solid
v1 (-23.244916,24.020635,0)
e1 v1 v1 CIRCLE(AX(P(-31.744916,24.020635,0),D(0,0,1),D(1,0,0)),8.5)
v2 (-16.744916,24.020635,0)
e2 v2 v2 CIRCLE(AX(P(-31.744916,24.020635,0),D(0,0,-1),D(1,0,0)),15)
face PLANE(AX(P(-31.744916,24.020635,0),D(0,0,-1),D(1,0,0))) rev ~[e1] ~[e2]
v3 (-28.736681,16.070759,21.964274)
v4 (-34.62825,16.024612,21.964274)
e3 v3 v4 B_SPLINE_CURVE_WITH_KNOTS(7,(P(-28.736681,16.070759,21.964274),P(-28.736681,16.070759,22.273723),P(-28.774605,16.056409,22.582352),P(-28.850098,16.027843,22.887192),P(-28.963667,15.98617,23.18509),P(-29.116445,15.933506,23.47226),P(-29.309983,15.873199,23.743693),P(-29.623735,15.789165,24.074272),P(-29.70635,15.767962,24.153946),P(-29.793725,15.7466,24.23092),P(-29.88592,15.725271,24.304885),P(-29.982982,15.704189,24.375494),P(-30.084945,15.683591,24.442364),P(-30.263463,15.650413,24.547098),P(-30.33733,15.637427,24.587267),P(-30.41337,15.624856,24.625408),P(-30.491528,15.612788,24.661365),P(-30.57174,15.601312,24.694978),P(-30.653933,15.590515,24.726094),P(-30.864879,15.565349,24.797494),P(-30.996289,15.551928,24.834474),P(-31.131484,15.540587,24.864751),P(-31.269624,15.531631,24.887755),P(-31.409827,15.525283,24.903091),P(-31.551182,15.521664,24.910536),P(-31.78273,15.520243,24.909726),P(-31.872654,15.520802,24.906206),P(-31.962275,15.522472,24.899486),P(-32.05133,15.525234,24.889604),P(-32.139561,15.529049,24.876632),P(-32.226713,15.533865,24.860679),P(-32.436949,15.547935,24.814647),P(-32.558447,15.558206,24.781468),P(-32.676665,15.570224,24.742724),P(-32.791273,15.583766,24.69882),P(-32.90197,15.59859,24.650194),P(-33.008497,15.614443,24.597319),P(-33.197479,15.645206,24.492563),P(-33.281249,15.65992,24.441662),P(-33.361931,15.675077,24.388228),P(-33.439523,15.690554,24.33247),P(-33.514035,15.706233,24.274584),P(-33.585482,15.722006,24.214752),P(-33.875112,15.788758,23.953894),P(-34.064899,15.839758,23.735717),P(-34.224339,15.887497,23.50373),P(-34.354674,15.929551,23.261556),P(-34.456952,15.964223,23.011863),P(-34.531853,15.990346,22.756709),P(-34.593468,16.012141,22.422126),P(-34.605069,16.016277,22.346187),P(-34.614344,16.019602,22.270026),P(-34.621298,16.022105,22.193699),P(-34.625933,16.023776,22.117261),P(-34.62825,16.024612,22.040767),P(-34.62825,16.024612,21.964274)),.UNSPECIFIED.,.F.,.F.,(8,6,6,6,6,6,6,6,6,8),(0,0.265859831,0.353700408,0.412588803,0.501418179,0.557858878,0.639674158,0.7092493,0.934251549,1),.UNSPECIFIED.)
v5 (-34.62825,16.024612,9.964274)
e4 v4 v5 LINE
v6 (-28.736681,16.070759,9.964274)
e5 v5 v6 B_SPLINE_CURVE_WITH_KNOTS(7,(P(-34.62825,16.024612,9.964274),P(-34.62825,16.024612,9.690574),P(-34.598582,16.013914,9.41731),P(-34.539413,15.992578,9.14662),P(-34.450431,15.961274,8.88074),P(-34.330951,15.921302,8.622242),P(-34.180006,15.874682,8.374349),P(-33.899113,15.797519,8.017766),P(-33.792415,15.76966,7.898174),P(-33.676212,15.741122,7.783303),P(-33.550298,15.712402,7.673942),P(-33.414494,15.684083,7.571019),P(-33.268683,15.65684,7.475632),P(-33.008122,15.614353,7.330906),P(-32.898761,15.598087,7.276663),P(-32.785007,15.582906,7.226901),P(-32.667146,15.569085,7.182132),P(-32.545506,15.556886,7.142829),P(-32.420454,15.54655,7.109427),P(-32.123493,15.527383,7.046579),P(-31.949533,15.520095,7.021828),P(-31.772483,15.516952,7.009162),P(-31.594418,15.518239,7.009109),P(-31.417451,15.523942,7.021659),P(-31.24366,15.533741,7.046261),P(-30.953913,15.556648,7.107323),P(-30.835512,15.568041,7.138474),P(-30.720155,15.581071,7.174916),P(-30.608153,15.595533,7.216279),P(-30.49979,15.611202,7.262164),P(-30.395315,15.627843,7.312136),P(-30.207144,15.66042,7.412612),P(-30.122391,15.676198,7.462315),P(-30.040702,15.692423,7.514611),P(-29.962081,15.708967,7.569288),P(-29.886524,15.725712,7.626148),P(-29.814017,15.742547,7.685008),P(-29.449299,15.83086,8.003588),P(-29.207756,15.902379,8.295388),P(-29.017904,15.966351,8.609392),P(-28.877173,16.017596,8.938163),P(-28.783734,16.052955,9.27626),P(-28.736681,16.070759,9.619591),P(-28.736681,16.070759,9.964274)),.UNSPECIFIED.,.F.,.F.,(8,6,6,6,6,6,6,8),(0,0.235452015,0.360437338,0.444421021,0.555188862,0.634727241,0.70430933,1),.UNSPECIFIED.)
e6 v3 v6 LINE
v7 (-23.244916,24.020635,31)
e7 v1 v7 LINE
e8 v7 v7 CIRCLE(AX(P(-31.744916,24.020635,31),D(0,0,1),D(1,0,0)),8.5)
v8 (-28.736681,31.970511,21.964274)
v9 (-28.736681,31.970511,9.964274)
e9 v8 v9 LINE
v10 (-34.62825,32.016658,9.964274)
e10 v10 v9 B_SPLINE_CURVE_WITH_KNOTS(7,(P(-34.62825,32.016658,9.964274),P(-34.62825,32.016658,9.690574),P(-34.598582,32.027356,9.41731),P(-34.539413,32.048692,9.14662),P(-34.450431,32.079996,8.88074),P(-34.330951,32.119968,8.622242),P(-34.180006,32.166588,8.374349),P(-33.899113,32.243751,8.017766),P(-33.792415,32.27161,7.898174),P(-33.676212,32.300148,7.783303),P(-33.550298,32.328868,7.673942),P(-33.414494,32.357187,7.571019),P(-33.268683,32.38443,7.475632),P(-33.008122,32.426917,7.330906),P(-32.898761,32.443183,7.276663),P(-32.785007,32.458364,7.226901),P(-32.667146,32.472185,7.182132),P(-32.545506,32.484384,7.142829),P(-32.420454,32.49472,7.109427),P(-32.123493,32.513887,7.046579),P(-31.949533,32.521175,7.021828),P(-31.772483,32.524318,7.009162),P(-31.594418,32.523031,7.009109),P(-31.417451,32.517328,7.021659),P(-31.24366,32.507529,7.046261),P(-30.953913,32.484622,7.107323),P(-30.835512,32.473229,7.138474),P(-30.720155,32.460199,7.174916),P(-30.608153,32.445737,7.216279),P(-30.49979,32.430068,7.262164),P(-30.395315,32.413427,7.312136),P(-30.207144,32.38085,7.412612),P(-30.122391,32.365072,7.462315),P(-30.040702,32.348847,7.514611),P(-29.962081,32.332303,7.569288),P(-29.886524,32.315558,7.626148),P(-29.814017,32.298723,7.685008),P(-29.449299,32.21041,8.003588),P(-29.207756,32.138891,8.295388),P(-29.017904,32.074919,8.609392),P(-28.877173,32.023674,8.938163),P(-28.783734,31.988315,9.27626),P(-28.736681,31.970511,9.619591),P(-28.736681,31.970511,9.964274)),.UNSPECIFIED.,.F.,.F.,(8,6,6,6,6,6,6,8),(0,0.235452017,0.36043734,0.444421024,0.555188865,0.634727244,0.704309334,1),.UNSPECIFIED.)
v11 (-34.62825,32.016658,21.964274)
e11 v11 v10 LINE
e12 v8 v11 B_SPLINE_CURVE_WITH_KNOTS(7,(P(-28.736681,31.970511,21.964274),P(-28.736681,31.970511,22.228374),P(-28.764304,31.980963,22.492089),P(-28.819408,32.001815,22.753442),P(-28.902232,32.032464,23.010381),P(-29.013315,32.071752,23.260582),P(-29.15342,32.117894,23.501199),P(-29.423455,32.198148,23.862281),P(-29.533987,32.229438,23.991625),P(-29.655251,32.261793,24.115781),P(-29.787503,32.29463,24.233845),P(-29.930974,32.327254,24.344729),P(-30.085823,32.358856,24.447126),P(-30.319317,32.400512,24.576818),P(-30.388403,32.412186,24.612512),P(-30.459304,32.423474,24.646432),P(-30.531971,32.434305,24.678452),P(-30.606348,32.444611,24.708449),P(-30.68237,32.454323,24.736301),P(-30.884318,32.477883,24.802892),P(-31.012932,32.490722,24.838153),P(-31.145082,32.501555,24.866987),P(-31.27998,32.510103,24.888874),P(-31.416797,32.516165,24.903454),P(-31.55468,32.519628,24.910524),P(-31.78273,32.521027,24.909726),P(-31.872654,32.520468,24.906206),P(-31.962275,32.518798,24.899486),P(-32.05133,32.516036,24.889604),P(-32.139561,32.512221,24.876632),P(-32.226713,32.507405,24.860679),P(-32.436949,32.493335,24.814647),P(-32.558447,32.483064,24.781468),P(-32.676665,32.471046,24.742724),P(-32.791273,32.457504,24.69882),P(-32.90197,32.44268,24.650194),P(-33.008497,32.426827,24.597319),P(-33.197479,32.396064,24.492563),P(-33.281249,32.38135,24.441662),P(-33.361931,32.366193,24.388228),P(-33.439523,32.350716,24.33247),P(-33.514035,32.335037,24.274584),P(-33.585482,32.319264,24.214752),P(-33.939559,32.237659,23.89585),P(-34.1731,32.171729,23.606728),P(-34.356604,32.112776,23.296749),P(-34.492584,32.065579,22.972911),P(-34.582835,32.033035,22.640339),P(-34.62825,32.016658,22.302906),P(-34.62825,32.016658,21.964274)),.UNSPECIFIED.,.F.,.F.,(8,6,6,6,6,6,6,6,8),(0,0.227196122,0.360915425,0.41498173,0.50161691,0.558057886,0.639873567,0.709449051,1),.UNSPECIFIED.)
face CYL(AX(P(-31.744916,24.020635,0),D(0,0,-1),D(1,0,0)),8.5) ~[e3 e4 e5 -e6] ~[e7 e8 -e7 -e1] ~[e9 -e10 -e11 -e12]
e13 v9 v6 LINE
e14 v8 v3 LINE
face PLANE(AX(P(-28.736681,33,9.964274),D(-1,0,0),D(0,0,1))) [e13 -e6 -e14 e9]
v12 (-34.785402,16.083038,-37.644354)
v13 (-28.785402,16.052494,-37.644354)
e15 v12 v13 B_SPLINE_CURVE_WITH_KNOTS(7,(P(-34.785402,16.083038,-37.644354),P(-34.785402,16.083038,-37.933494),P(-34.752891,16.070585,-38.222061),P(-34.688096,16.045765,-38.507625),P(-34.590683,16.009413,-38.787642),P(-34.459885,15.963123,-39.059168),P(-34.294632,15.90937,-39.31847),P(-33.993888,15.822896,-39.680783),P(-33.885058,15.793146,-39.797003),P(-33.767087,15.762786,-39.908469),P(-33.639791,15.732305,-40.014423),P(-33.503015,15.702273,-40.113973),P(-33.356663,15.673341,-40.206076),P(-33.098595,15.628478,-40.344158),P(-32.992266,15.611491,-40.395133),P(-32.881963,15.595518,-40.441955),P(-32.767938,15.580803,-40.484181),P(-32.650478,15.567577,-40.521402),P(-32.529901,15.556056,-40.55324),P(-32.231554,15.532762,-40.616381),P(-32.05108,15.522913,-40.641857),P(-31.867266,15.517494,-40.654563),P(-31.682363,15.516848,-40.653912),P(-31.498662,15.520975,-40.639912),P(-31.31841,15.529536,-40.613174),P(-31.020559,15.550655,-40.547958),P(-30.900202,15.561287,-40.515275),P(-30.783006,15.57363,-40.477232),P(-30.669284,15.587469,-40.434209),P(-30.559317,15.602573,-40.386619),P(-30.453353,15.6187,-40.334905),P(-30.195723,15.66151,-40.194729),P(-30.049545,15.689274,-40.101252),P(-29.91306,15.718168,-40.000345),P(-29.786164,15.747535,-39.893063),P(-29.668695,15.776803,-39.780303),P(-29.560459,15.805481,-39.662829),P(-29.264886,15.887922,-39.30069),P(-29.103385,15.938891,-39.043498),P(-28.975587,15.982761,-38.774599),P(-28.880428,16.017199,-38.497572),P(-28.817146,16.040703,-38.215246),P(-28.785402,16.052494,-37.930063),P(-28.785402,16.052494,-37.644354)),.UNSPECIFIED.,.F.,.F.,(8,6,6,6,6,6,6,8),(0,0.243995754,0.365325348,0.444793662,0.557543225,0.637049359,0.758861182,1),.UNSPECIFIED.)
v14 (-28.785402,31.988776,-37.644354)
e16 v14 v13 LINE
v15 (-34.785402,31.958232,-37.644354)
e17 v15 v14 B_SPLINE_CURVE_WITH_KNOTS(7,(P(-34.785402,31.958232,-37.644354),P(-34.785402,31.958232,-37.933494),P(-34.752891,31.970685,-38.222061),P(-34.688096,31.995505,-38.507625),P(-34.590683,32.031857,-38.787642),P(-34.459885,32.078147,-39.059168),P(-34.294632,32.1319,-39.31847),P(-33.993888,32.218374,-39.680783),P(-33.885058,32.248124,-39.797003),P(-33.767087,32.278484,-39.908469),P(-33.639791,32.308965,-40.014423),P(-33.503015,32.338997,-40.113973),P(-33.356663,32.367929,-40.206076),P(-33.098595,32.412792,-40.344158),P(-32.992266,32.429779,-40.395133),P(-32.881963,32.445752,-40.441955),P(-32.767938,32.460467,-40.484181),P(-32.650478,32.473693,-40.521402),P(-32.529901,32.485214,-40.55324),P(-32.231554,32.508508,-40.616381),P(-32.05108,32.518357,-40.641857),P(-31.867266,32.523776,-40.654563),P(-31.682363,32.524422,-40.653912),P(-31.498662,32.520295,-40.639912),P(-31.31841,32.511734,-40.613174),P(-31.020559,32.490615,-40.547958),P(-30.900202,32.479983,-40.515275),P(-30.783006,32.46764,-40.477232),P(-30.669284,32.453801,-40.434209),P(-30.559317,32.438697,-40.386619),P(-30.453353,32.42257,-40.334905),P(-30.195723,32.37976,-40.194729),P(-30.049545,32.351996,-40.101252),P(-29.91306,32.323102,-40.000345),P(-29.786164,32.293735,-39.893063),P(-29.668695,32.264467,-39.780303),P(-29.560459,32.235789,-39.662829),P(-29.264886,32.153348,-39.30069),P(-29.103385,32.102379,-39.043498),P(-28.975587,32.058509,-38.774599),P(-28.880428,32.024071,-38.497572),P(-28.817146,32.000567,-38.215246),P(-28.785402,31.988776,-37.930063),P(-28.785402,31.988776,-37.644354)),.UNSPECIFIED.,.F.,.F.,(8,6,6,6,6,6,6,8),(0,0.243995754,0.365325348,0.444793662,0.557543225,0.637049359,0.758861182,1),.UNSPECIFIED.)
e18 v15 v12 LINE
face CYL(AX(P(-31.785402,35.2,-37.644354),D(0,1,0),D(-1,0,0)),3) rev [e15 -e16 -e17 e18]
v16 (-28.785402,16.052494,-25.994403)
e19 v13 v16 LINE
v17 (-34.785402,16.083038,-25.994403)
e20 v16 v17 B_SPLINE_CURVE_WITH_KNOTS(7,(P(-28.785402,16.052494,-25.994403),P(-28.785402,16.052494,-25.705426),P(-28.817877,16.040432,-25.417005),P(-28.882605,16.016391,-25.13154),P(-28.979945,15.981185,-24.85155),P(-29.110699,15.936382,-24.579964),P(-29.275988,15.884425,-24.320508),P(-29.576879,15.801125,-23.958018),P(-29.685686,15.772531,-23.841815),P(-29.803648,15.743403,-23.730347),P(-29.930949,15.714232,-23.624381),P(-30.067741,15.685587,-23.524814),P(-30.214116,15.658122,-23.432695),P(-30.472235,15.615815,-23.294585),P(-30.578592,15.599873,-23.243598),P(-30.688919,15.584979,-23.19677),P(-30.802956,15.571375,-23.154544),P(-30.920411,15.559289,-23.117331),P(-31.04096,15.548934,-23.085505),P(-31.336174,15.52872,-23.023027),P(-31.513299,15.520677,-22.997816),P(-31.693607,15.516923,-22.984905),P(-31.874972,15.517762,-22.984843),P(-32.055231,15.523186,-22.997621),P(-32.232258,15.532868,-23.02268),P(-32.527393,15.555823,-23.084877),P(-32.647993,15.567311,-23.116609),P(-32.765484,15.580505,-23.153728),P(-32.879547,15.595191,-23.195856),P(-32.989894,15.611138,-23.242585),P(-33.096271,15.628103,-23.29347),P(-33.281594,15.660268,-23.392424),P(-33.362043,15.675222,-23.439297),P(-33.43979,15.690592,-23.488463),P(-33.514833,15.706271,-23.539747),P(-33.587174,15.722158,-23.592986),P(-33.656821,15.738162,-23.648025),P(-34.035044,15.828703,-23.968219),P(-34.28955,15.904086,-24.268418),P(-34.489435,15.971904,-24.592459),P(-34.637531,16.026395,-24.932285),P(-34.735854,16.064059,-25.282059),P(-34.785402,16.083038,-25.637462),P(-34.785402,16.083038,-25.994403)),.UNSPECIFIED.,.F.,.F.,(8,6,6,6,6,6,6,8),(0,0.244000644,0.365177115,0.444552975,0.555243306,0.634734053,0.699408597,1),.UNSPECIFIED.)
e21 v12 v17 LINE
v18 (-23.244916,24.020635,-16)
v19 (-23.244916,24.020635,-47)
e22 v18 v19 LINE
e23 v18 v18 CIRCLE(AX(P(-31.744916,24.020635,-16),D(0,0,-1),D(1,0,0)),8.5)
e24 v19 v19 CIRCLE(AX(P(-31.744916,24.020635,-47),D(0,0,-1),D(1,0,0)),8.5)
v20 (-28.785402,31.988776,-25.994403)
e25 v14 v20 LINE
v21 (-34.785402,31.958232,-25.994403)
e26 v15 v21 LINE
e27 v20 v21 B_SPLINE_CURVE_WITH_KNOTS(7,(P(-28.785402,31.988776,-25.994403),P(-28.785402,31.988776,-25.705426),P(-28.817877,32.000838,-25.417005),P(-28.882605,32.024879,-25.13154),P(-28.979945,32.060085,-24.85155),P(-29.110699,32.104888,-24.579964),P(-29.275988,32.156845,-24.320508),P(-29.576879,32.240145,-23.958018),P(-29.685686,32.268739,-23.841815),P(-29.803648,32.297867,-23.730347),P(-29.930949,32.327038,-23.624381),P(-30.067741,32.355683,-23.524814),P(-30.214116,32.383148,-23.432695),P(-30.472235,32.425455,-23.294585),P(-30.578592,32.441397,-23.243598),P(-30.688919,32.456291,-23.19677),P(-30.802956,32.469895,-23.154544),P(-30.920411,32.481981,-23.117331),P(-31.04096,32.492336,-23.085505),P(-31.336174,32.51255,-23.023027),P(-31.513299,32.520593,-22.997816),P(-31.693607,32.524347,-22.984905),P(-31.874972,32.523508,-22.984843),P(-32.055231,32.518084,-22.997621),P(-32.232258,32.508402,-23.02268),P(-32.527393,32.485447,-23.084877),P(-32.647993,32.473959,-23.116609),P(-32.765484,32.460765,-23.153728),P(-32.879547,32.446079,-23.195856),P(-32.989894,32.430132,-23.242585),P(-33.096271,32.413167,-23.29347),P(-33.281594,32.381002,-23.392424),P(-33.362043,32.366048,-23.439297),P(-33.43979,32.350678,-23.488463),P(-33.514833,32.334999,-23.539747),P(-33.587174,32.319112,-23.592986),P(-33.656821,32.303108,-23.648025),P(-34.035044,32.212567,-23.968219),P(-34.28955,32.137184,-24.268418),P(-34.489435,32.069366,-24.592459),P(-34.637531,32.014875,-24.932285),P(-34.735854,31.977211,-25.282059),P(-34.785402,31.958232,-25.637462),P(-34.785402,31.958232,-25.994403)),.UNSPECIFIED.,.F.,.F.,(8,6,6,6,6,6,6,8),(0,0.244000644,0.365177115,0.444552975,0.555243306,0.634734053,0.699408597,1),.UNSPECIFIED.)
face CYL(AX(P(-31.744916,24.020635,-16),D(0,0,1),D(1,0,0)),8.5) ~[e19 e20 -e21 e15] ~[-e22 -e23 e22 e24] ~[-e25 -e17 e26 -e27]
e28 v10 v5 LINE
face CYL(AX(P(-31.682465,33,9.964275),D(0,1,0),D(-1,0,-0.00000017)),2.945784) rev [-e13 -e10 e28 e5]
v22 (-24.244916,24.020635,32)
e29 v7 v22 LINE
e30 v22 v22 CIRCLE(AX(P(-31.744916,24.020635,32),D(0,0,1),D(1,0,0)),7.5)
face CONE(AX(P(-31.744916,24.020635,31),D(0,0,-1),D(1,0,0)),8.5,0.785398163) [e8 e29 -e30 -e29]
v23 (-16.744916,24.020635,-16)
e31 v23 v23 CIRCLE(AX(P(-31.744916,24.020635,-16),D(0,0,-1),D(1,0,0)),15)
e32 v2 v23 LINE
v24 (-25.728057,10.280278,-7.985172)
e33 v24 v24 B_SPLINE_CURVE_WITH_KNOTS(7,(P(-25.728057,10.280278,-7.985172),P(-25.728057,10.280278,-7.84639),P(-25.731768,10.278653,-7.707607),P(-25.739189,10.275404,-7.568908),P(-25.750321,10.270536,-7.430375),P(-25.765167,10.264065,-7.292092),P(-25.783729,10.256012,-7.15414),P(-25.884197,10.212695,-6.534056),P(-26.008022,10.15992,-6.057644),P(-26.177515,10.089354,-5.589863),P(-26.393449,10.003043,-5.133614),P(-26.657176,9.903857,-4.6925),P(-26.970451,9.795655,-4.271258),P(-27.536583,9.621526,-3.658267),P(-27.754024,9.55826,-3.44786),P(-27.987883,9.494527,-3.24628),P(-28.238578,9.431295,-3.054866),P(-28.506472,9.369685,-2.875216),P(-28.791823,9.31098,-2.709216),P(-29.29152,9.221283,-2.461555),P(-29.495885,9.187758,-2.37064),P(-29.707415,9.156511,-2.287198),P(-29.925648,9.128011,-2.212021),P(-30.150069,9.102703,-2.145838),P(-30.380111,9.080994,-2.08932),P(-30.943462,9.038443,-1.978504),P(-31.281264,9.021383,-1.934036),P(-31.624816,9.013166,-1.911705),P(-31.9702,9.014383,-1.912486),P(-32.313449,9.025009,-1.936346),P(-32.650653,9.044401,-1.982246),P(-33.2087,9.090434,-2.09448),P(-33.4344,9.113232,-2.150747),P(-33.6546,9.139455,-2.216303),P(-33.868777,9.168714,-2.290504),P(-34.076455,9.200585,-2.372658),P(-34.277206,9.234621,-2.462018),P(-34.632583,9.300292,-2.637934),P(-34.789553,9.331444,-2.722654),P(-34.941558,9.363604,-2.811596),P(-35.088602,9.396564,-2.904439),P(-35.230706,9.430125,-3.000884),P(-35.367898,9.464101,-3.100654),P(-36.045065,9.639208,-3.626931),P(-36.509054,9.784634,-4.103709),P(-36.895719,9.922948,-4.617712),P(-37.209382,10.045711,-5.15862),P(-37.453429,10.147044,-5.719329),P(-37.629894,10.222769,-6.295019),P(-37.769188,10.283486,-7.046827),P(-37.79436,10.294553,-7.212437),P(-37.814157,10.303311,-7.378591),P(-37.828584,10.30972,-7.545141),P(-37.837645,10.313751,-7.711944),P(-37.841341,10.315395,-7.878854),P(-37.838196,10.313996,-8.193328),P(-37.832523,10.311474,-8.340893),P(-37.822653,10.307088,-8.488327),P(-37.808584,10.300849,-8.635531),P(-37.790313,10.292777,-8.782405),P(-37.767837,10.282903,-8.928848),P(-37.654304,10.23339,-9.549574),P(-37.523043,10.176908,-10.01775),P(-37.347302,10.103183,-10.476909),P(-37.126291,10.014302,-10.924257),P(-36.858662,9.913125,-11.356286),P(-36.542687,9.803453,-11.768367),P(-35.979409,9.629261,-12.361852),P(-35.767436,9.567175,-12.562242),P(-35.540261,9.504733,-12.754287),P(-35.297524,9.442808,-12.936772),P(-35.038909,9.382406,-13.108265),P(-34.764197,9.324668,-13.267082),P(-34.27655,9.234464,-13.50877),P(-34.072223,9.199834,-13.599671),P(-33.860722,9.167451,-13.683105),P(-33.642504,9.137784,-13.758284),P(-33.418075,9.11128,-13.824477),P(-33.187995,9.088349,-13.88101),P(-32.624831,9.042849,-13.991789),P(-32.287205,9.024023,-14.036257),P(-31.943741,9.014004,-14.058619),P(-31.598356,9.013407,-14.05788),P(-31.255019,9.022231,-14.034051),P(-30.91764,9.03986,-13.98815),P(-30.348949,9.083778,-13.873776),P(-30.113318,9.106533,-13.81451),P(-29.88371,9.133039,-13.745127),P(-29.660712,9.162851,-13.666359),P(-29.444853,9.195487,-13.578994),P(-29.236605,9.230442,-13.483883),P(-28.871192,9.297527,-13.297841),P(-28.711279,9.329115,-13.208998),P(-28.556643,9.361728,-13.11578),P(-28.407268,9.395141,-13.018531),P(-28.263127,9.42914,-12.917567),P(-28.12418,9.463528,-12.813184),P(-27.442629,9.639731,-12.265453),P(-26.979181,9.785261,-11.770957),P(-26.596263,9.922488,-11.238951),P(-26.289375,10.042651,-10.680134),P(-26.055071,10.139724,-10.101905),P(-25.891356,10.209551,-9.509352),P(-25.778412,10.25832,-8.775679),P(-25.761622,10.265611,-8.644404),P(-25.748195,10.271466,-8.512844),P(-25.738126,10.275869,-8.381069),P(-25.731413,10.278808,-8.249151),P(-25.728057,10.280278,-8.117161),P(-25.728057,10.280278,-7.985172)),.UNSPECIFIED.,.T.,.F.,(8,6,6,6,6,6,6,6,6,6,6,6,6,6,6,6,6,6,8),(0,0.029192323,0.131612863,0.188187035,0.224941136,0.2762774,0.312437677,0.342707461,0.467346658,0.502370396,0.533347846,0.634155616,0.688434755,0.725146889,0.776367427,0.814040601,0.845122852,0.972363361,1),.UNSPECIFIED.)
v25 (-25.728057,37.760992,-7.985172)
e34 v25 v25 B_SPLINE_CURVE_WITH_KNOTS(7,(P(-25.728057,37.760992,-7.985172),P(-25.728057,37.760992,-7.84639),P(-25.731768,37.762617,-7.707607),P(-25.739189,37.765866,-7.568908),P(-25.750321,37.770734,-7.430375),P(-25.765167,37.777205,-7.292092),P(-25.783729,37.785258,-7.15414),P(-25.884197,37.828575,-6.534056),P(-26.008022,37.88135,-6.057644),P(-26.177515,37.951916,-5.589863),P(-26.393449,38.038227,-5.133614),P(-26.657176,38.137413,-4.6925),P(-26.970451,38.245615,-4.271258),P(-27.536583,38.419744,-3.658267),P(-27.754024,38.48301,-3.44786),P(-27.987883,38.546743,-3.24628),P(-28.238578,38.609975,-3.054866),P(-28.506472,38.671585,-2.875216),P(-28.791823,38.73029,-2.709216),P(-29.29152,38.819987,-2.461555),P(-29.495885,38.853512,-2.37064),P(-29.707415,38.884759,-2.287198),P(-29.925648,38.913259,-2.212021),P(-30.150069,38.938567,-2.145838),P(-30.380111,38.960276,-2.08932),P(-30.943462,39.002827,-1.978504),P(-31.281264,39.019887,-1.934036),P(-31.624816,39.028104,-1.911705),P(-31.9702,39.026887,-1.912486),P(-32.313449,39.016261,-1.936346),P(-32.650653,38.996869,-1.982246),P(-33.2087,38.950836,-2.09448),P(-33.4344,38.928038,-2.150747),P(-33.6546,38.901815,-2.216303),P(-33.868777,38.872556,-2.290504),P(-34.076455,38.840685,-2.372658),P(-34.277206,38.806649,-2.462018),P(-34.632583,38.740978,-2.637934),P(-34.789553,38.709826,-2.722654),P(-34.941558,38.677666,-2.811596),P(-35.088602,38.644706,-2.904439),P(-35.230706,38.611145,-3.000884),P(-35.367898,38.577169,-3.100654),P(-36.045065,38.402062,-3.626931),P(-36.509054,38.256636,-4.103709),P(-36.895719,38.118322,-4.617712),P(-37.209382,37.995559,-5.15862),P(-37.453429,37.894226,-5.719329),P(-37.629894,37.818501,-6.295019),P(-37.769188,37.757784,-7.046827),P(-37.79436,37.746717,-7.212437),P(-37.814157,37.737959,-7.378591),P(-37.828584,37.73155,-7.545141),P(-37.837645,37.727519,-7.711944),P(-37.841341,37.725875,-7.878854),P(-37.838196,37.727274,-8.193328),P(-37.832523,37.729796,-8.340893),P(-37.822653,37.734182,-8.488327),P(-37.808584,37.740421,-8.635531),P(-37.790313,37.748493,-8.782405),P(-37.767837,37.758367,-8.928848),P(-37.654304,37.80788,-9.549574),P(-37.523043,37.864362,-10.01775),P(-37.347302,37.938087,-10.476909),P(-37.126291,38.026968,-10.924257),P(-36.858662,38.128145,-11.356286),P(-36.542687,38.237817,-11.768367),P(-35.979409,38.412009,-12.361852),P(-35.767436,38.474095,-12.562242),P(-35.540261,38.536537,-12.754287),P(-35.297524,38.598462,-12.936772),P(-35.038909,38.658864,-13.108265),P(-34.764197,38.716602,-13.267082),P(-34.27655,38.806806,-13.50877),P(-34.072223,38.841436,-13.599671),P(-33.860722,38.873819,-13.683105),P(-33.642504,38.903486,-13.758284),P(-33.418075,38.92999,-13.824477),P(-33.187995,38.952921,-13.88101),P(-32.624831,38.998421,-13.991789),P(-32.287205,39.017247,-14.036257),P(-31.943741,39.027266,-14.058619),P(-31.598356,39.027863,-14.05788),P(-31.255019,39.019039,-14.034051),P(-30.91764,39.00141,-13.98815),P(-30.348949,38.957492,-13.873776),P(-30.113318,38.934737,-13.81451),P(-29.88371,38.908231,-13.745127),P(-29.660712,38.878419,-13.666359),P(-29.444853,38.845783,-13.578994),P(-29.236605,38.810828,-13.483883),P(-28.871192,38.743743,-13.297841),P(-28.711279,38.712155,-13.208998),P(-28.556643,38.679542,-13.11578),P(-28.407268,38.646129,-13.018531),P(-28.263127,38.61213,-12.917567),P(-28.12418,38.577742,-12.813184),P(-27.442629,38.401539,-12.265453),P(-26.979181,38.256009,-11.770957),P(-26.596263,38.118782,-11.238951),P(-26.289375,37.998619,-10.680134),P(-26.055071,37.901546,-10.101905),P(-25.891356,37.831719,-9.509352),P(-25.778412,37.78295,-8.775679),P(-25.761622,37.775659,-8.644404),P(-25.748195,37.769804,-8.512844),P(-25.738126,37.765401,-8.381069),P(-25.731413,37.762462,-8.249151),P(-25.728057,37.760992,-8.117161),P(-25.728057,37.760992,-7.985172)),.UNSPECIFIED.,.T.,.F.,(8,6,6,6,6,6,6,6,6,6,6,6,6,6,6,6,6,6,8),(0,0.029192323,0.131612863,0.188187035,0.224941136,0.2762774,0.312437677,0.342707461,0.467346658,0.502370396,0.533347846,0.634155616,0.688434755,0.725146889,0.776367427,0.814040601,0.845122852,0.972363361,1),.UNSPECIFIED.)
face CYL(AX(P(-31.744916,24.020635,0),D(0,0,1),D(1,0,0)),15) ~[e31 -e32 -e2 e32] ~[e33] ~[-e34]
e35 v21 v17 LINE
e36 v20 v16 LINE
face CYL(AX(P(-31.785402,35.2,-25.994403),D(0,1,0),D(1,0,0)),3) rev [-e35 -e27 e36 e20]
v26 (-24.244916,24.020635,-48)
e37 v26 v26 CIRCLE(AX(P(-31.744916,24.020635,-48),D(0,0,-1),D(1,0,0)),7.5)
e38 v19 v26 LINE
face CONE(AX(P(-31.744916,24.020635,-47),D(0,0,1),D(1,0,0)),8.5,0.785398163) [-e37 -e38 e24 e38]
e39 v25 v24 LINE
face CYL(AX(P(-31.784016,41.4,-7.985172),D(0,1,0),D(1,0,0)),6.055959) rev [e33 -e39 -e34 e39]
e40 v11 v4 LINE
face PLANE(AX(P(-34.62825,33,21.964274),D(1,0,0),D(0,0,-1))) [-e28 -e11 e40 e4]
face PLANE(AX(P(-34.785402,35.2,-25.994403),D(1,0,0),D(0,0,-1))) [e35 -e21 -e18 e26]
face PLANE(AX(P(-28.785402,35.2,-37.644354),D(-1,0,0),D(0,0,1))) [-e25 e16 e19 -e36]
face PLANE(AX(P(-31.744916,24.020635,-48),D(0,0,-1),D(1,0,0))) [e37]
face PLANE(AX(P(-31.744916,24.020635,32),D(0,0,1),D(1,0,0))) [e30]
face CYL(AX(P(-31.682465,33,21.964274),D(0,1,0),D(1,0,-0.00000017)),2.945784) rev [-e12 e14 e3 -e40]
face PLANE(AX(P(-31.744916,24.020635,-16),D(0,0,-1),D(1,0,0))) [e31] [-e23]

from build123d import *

# Parameters (mm, degrees)
F0_R      = 8.5
F1_DEPTH  = 32
F4_DEPTH  = 32.4
F5_SIZE   = 1
F6_R      = 15
F7_DEPTH  = 16
F8_R      = 8.5
F9_DEPTH  = 32
F10_SIZE  = 1
F13_DEPTH = 46.1
F15_R     = 6.055959
F16_DEPTH = 53.1


with BuildPart() as f1:
    # F0 (on Top) → F1 (new body)
    with BuildSketch(Plane.XY):
        with Locations((-31.744916, 24.020635)):
            Circle(F0_R)
    extrude(amount=F1_DEPTH)

    # F3 (on offset) → F4 (cut)
    with BuildSketch(Plane.XZ.offset(-33)):
        with BuildLine():
            ThreePointArc((-28.736681, 21.964274), (-31.682465, 24.910059), (-34.62825, 21.964274))
            Line((-34.62825, 21.964274), (-34.62825, 9.964274))
            ThreePointArc((-34.62825, 9.964274), (-31.682465, 7.01849), (-28.736681, 9.964274))
            Line((-28.736681, 9.964274), (-28.736681, 21.964274))
        make_face()
    extrude(amount=F4_DEPTH, mode=Mode.SUBTRACT)

    # F5
    f5_edges = [f1.edges().sort_by_distance(p)[0] for p in [
        (-40.244916, 24.020635, 32),
    ]]
    chamfer(f5_edges, length=F5_SIZE)

    # F6 (on face) → F7 (join)
    with BuildSketch(Plane(origin=(0, 0, 0), x_dir=(1, 0, 0), z_dir=(0, 0, -1))):
        with Locations((-31.744916, -24.020635)):
            Circle(F6_R)
    extrude(amount=F7_DEPTH)

    # F8 (on face) → F9 (join)
    with BuildSketch(Plane(origin=(0, 0, -16), x_dir=(1, 0, 0), z_dir=(0, 0, -1))):
        with Locations((-31.744916, -24.020635)):
            Circle(F8_R)
    extrude(amount=F9_DEPTH)

    # F10
    f10_edges = [f1.edges().sort_by_distance(p)[0] for p in [
        (-40.244916, 24.020635, -48),
    ]]
    chamfer(f10_edges, length=F10_SIZE)

    # F12 (on offset) → F13 (cut)
    with BuildSketch(Plane.XZ.offset(-35.2)):
        with BuildLine():
            Line((-28.785402, -37.644354), (-28.785402, -25.994403))
            ThreePointArc((-28.785402, -25.994403), (-31.785402, -22.994403), (-34.785402, -25.994403))
            Line((-34.785402, -25.994403), (-34.785402, -37.644354))
            ThreePointArc((-34.785402, -37.644354), (-31.785402, -40.644354), (-28.785402, -37.644354))
        make_face()
    extrude(amount=F13_DEPTH, mode=Mode.SUBTRACT)

    # F15 (on offset) → F16 (cut)
    with BuildSketch(Plane.XZ.offset(-41.4)):
        with Locations((-31.784016, -7.985172)):
            Circle(F15_R)
    extrude(amount=F16_DEPTH, mode=Mode.SUBTRACT)


solid = f1.part
